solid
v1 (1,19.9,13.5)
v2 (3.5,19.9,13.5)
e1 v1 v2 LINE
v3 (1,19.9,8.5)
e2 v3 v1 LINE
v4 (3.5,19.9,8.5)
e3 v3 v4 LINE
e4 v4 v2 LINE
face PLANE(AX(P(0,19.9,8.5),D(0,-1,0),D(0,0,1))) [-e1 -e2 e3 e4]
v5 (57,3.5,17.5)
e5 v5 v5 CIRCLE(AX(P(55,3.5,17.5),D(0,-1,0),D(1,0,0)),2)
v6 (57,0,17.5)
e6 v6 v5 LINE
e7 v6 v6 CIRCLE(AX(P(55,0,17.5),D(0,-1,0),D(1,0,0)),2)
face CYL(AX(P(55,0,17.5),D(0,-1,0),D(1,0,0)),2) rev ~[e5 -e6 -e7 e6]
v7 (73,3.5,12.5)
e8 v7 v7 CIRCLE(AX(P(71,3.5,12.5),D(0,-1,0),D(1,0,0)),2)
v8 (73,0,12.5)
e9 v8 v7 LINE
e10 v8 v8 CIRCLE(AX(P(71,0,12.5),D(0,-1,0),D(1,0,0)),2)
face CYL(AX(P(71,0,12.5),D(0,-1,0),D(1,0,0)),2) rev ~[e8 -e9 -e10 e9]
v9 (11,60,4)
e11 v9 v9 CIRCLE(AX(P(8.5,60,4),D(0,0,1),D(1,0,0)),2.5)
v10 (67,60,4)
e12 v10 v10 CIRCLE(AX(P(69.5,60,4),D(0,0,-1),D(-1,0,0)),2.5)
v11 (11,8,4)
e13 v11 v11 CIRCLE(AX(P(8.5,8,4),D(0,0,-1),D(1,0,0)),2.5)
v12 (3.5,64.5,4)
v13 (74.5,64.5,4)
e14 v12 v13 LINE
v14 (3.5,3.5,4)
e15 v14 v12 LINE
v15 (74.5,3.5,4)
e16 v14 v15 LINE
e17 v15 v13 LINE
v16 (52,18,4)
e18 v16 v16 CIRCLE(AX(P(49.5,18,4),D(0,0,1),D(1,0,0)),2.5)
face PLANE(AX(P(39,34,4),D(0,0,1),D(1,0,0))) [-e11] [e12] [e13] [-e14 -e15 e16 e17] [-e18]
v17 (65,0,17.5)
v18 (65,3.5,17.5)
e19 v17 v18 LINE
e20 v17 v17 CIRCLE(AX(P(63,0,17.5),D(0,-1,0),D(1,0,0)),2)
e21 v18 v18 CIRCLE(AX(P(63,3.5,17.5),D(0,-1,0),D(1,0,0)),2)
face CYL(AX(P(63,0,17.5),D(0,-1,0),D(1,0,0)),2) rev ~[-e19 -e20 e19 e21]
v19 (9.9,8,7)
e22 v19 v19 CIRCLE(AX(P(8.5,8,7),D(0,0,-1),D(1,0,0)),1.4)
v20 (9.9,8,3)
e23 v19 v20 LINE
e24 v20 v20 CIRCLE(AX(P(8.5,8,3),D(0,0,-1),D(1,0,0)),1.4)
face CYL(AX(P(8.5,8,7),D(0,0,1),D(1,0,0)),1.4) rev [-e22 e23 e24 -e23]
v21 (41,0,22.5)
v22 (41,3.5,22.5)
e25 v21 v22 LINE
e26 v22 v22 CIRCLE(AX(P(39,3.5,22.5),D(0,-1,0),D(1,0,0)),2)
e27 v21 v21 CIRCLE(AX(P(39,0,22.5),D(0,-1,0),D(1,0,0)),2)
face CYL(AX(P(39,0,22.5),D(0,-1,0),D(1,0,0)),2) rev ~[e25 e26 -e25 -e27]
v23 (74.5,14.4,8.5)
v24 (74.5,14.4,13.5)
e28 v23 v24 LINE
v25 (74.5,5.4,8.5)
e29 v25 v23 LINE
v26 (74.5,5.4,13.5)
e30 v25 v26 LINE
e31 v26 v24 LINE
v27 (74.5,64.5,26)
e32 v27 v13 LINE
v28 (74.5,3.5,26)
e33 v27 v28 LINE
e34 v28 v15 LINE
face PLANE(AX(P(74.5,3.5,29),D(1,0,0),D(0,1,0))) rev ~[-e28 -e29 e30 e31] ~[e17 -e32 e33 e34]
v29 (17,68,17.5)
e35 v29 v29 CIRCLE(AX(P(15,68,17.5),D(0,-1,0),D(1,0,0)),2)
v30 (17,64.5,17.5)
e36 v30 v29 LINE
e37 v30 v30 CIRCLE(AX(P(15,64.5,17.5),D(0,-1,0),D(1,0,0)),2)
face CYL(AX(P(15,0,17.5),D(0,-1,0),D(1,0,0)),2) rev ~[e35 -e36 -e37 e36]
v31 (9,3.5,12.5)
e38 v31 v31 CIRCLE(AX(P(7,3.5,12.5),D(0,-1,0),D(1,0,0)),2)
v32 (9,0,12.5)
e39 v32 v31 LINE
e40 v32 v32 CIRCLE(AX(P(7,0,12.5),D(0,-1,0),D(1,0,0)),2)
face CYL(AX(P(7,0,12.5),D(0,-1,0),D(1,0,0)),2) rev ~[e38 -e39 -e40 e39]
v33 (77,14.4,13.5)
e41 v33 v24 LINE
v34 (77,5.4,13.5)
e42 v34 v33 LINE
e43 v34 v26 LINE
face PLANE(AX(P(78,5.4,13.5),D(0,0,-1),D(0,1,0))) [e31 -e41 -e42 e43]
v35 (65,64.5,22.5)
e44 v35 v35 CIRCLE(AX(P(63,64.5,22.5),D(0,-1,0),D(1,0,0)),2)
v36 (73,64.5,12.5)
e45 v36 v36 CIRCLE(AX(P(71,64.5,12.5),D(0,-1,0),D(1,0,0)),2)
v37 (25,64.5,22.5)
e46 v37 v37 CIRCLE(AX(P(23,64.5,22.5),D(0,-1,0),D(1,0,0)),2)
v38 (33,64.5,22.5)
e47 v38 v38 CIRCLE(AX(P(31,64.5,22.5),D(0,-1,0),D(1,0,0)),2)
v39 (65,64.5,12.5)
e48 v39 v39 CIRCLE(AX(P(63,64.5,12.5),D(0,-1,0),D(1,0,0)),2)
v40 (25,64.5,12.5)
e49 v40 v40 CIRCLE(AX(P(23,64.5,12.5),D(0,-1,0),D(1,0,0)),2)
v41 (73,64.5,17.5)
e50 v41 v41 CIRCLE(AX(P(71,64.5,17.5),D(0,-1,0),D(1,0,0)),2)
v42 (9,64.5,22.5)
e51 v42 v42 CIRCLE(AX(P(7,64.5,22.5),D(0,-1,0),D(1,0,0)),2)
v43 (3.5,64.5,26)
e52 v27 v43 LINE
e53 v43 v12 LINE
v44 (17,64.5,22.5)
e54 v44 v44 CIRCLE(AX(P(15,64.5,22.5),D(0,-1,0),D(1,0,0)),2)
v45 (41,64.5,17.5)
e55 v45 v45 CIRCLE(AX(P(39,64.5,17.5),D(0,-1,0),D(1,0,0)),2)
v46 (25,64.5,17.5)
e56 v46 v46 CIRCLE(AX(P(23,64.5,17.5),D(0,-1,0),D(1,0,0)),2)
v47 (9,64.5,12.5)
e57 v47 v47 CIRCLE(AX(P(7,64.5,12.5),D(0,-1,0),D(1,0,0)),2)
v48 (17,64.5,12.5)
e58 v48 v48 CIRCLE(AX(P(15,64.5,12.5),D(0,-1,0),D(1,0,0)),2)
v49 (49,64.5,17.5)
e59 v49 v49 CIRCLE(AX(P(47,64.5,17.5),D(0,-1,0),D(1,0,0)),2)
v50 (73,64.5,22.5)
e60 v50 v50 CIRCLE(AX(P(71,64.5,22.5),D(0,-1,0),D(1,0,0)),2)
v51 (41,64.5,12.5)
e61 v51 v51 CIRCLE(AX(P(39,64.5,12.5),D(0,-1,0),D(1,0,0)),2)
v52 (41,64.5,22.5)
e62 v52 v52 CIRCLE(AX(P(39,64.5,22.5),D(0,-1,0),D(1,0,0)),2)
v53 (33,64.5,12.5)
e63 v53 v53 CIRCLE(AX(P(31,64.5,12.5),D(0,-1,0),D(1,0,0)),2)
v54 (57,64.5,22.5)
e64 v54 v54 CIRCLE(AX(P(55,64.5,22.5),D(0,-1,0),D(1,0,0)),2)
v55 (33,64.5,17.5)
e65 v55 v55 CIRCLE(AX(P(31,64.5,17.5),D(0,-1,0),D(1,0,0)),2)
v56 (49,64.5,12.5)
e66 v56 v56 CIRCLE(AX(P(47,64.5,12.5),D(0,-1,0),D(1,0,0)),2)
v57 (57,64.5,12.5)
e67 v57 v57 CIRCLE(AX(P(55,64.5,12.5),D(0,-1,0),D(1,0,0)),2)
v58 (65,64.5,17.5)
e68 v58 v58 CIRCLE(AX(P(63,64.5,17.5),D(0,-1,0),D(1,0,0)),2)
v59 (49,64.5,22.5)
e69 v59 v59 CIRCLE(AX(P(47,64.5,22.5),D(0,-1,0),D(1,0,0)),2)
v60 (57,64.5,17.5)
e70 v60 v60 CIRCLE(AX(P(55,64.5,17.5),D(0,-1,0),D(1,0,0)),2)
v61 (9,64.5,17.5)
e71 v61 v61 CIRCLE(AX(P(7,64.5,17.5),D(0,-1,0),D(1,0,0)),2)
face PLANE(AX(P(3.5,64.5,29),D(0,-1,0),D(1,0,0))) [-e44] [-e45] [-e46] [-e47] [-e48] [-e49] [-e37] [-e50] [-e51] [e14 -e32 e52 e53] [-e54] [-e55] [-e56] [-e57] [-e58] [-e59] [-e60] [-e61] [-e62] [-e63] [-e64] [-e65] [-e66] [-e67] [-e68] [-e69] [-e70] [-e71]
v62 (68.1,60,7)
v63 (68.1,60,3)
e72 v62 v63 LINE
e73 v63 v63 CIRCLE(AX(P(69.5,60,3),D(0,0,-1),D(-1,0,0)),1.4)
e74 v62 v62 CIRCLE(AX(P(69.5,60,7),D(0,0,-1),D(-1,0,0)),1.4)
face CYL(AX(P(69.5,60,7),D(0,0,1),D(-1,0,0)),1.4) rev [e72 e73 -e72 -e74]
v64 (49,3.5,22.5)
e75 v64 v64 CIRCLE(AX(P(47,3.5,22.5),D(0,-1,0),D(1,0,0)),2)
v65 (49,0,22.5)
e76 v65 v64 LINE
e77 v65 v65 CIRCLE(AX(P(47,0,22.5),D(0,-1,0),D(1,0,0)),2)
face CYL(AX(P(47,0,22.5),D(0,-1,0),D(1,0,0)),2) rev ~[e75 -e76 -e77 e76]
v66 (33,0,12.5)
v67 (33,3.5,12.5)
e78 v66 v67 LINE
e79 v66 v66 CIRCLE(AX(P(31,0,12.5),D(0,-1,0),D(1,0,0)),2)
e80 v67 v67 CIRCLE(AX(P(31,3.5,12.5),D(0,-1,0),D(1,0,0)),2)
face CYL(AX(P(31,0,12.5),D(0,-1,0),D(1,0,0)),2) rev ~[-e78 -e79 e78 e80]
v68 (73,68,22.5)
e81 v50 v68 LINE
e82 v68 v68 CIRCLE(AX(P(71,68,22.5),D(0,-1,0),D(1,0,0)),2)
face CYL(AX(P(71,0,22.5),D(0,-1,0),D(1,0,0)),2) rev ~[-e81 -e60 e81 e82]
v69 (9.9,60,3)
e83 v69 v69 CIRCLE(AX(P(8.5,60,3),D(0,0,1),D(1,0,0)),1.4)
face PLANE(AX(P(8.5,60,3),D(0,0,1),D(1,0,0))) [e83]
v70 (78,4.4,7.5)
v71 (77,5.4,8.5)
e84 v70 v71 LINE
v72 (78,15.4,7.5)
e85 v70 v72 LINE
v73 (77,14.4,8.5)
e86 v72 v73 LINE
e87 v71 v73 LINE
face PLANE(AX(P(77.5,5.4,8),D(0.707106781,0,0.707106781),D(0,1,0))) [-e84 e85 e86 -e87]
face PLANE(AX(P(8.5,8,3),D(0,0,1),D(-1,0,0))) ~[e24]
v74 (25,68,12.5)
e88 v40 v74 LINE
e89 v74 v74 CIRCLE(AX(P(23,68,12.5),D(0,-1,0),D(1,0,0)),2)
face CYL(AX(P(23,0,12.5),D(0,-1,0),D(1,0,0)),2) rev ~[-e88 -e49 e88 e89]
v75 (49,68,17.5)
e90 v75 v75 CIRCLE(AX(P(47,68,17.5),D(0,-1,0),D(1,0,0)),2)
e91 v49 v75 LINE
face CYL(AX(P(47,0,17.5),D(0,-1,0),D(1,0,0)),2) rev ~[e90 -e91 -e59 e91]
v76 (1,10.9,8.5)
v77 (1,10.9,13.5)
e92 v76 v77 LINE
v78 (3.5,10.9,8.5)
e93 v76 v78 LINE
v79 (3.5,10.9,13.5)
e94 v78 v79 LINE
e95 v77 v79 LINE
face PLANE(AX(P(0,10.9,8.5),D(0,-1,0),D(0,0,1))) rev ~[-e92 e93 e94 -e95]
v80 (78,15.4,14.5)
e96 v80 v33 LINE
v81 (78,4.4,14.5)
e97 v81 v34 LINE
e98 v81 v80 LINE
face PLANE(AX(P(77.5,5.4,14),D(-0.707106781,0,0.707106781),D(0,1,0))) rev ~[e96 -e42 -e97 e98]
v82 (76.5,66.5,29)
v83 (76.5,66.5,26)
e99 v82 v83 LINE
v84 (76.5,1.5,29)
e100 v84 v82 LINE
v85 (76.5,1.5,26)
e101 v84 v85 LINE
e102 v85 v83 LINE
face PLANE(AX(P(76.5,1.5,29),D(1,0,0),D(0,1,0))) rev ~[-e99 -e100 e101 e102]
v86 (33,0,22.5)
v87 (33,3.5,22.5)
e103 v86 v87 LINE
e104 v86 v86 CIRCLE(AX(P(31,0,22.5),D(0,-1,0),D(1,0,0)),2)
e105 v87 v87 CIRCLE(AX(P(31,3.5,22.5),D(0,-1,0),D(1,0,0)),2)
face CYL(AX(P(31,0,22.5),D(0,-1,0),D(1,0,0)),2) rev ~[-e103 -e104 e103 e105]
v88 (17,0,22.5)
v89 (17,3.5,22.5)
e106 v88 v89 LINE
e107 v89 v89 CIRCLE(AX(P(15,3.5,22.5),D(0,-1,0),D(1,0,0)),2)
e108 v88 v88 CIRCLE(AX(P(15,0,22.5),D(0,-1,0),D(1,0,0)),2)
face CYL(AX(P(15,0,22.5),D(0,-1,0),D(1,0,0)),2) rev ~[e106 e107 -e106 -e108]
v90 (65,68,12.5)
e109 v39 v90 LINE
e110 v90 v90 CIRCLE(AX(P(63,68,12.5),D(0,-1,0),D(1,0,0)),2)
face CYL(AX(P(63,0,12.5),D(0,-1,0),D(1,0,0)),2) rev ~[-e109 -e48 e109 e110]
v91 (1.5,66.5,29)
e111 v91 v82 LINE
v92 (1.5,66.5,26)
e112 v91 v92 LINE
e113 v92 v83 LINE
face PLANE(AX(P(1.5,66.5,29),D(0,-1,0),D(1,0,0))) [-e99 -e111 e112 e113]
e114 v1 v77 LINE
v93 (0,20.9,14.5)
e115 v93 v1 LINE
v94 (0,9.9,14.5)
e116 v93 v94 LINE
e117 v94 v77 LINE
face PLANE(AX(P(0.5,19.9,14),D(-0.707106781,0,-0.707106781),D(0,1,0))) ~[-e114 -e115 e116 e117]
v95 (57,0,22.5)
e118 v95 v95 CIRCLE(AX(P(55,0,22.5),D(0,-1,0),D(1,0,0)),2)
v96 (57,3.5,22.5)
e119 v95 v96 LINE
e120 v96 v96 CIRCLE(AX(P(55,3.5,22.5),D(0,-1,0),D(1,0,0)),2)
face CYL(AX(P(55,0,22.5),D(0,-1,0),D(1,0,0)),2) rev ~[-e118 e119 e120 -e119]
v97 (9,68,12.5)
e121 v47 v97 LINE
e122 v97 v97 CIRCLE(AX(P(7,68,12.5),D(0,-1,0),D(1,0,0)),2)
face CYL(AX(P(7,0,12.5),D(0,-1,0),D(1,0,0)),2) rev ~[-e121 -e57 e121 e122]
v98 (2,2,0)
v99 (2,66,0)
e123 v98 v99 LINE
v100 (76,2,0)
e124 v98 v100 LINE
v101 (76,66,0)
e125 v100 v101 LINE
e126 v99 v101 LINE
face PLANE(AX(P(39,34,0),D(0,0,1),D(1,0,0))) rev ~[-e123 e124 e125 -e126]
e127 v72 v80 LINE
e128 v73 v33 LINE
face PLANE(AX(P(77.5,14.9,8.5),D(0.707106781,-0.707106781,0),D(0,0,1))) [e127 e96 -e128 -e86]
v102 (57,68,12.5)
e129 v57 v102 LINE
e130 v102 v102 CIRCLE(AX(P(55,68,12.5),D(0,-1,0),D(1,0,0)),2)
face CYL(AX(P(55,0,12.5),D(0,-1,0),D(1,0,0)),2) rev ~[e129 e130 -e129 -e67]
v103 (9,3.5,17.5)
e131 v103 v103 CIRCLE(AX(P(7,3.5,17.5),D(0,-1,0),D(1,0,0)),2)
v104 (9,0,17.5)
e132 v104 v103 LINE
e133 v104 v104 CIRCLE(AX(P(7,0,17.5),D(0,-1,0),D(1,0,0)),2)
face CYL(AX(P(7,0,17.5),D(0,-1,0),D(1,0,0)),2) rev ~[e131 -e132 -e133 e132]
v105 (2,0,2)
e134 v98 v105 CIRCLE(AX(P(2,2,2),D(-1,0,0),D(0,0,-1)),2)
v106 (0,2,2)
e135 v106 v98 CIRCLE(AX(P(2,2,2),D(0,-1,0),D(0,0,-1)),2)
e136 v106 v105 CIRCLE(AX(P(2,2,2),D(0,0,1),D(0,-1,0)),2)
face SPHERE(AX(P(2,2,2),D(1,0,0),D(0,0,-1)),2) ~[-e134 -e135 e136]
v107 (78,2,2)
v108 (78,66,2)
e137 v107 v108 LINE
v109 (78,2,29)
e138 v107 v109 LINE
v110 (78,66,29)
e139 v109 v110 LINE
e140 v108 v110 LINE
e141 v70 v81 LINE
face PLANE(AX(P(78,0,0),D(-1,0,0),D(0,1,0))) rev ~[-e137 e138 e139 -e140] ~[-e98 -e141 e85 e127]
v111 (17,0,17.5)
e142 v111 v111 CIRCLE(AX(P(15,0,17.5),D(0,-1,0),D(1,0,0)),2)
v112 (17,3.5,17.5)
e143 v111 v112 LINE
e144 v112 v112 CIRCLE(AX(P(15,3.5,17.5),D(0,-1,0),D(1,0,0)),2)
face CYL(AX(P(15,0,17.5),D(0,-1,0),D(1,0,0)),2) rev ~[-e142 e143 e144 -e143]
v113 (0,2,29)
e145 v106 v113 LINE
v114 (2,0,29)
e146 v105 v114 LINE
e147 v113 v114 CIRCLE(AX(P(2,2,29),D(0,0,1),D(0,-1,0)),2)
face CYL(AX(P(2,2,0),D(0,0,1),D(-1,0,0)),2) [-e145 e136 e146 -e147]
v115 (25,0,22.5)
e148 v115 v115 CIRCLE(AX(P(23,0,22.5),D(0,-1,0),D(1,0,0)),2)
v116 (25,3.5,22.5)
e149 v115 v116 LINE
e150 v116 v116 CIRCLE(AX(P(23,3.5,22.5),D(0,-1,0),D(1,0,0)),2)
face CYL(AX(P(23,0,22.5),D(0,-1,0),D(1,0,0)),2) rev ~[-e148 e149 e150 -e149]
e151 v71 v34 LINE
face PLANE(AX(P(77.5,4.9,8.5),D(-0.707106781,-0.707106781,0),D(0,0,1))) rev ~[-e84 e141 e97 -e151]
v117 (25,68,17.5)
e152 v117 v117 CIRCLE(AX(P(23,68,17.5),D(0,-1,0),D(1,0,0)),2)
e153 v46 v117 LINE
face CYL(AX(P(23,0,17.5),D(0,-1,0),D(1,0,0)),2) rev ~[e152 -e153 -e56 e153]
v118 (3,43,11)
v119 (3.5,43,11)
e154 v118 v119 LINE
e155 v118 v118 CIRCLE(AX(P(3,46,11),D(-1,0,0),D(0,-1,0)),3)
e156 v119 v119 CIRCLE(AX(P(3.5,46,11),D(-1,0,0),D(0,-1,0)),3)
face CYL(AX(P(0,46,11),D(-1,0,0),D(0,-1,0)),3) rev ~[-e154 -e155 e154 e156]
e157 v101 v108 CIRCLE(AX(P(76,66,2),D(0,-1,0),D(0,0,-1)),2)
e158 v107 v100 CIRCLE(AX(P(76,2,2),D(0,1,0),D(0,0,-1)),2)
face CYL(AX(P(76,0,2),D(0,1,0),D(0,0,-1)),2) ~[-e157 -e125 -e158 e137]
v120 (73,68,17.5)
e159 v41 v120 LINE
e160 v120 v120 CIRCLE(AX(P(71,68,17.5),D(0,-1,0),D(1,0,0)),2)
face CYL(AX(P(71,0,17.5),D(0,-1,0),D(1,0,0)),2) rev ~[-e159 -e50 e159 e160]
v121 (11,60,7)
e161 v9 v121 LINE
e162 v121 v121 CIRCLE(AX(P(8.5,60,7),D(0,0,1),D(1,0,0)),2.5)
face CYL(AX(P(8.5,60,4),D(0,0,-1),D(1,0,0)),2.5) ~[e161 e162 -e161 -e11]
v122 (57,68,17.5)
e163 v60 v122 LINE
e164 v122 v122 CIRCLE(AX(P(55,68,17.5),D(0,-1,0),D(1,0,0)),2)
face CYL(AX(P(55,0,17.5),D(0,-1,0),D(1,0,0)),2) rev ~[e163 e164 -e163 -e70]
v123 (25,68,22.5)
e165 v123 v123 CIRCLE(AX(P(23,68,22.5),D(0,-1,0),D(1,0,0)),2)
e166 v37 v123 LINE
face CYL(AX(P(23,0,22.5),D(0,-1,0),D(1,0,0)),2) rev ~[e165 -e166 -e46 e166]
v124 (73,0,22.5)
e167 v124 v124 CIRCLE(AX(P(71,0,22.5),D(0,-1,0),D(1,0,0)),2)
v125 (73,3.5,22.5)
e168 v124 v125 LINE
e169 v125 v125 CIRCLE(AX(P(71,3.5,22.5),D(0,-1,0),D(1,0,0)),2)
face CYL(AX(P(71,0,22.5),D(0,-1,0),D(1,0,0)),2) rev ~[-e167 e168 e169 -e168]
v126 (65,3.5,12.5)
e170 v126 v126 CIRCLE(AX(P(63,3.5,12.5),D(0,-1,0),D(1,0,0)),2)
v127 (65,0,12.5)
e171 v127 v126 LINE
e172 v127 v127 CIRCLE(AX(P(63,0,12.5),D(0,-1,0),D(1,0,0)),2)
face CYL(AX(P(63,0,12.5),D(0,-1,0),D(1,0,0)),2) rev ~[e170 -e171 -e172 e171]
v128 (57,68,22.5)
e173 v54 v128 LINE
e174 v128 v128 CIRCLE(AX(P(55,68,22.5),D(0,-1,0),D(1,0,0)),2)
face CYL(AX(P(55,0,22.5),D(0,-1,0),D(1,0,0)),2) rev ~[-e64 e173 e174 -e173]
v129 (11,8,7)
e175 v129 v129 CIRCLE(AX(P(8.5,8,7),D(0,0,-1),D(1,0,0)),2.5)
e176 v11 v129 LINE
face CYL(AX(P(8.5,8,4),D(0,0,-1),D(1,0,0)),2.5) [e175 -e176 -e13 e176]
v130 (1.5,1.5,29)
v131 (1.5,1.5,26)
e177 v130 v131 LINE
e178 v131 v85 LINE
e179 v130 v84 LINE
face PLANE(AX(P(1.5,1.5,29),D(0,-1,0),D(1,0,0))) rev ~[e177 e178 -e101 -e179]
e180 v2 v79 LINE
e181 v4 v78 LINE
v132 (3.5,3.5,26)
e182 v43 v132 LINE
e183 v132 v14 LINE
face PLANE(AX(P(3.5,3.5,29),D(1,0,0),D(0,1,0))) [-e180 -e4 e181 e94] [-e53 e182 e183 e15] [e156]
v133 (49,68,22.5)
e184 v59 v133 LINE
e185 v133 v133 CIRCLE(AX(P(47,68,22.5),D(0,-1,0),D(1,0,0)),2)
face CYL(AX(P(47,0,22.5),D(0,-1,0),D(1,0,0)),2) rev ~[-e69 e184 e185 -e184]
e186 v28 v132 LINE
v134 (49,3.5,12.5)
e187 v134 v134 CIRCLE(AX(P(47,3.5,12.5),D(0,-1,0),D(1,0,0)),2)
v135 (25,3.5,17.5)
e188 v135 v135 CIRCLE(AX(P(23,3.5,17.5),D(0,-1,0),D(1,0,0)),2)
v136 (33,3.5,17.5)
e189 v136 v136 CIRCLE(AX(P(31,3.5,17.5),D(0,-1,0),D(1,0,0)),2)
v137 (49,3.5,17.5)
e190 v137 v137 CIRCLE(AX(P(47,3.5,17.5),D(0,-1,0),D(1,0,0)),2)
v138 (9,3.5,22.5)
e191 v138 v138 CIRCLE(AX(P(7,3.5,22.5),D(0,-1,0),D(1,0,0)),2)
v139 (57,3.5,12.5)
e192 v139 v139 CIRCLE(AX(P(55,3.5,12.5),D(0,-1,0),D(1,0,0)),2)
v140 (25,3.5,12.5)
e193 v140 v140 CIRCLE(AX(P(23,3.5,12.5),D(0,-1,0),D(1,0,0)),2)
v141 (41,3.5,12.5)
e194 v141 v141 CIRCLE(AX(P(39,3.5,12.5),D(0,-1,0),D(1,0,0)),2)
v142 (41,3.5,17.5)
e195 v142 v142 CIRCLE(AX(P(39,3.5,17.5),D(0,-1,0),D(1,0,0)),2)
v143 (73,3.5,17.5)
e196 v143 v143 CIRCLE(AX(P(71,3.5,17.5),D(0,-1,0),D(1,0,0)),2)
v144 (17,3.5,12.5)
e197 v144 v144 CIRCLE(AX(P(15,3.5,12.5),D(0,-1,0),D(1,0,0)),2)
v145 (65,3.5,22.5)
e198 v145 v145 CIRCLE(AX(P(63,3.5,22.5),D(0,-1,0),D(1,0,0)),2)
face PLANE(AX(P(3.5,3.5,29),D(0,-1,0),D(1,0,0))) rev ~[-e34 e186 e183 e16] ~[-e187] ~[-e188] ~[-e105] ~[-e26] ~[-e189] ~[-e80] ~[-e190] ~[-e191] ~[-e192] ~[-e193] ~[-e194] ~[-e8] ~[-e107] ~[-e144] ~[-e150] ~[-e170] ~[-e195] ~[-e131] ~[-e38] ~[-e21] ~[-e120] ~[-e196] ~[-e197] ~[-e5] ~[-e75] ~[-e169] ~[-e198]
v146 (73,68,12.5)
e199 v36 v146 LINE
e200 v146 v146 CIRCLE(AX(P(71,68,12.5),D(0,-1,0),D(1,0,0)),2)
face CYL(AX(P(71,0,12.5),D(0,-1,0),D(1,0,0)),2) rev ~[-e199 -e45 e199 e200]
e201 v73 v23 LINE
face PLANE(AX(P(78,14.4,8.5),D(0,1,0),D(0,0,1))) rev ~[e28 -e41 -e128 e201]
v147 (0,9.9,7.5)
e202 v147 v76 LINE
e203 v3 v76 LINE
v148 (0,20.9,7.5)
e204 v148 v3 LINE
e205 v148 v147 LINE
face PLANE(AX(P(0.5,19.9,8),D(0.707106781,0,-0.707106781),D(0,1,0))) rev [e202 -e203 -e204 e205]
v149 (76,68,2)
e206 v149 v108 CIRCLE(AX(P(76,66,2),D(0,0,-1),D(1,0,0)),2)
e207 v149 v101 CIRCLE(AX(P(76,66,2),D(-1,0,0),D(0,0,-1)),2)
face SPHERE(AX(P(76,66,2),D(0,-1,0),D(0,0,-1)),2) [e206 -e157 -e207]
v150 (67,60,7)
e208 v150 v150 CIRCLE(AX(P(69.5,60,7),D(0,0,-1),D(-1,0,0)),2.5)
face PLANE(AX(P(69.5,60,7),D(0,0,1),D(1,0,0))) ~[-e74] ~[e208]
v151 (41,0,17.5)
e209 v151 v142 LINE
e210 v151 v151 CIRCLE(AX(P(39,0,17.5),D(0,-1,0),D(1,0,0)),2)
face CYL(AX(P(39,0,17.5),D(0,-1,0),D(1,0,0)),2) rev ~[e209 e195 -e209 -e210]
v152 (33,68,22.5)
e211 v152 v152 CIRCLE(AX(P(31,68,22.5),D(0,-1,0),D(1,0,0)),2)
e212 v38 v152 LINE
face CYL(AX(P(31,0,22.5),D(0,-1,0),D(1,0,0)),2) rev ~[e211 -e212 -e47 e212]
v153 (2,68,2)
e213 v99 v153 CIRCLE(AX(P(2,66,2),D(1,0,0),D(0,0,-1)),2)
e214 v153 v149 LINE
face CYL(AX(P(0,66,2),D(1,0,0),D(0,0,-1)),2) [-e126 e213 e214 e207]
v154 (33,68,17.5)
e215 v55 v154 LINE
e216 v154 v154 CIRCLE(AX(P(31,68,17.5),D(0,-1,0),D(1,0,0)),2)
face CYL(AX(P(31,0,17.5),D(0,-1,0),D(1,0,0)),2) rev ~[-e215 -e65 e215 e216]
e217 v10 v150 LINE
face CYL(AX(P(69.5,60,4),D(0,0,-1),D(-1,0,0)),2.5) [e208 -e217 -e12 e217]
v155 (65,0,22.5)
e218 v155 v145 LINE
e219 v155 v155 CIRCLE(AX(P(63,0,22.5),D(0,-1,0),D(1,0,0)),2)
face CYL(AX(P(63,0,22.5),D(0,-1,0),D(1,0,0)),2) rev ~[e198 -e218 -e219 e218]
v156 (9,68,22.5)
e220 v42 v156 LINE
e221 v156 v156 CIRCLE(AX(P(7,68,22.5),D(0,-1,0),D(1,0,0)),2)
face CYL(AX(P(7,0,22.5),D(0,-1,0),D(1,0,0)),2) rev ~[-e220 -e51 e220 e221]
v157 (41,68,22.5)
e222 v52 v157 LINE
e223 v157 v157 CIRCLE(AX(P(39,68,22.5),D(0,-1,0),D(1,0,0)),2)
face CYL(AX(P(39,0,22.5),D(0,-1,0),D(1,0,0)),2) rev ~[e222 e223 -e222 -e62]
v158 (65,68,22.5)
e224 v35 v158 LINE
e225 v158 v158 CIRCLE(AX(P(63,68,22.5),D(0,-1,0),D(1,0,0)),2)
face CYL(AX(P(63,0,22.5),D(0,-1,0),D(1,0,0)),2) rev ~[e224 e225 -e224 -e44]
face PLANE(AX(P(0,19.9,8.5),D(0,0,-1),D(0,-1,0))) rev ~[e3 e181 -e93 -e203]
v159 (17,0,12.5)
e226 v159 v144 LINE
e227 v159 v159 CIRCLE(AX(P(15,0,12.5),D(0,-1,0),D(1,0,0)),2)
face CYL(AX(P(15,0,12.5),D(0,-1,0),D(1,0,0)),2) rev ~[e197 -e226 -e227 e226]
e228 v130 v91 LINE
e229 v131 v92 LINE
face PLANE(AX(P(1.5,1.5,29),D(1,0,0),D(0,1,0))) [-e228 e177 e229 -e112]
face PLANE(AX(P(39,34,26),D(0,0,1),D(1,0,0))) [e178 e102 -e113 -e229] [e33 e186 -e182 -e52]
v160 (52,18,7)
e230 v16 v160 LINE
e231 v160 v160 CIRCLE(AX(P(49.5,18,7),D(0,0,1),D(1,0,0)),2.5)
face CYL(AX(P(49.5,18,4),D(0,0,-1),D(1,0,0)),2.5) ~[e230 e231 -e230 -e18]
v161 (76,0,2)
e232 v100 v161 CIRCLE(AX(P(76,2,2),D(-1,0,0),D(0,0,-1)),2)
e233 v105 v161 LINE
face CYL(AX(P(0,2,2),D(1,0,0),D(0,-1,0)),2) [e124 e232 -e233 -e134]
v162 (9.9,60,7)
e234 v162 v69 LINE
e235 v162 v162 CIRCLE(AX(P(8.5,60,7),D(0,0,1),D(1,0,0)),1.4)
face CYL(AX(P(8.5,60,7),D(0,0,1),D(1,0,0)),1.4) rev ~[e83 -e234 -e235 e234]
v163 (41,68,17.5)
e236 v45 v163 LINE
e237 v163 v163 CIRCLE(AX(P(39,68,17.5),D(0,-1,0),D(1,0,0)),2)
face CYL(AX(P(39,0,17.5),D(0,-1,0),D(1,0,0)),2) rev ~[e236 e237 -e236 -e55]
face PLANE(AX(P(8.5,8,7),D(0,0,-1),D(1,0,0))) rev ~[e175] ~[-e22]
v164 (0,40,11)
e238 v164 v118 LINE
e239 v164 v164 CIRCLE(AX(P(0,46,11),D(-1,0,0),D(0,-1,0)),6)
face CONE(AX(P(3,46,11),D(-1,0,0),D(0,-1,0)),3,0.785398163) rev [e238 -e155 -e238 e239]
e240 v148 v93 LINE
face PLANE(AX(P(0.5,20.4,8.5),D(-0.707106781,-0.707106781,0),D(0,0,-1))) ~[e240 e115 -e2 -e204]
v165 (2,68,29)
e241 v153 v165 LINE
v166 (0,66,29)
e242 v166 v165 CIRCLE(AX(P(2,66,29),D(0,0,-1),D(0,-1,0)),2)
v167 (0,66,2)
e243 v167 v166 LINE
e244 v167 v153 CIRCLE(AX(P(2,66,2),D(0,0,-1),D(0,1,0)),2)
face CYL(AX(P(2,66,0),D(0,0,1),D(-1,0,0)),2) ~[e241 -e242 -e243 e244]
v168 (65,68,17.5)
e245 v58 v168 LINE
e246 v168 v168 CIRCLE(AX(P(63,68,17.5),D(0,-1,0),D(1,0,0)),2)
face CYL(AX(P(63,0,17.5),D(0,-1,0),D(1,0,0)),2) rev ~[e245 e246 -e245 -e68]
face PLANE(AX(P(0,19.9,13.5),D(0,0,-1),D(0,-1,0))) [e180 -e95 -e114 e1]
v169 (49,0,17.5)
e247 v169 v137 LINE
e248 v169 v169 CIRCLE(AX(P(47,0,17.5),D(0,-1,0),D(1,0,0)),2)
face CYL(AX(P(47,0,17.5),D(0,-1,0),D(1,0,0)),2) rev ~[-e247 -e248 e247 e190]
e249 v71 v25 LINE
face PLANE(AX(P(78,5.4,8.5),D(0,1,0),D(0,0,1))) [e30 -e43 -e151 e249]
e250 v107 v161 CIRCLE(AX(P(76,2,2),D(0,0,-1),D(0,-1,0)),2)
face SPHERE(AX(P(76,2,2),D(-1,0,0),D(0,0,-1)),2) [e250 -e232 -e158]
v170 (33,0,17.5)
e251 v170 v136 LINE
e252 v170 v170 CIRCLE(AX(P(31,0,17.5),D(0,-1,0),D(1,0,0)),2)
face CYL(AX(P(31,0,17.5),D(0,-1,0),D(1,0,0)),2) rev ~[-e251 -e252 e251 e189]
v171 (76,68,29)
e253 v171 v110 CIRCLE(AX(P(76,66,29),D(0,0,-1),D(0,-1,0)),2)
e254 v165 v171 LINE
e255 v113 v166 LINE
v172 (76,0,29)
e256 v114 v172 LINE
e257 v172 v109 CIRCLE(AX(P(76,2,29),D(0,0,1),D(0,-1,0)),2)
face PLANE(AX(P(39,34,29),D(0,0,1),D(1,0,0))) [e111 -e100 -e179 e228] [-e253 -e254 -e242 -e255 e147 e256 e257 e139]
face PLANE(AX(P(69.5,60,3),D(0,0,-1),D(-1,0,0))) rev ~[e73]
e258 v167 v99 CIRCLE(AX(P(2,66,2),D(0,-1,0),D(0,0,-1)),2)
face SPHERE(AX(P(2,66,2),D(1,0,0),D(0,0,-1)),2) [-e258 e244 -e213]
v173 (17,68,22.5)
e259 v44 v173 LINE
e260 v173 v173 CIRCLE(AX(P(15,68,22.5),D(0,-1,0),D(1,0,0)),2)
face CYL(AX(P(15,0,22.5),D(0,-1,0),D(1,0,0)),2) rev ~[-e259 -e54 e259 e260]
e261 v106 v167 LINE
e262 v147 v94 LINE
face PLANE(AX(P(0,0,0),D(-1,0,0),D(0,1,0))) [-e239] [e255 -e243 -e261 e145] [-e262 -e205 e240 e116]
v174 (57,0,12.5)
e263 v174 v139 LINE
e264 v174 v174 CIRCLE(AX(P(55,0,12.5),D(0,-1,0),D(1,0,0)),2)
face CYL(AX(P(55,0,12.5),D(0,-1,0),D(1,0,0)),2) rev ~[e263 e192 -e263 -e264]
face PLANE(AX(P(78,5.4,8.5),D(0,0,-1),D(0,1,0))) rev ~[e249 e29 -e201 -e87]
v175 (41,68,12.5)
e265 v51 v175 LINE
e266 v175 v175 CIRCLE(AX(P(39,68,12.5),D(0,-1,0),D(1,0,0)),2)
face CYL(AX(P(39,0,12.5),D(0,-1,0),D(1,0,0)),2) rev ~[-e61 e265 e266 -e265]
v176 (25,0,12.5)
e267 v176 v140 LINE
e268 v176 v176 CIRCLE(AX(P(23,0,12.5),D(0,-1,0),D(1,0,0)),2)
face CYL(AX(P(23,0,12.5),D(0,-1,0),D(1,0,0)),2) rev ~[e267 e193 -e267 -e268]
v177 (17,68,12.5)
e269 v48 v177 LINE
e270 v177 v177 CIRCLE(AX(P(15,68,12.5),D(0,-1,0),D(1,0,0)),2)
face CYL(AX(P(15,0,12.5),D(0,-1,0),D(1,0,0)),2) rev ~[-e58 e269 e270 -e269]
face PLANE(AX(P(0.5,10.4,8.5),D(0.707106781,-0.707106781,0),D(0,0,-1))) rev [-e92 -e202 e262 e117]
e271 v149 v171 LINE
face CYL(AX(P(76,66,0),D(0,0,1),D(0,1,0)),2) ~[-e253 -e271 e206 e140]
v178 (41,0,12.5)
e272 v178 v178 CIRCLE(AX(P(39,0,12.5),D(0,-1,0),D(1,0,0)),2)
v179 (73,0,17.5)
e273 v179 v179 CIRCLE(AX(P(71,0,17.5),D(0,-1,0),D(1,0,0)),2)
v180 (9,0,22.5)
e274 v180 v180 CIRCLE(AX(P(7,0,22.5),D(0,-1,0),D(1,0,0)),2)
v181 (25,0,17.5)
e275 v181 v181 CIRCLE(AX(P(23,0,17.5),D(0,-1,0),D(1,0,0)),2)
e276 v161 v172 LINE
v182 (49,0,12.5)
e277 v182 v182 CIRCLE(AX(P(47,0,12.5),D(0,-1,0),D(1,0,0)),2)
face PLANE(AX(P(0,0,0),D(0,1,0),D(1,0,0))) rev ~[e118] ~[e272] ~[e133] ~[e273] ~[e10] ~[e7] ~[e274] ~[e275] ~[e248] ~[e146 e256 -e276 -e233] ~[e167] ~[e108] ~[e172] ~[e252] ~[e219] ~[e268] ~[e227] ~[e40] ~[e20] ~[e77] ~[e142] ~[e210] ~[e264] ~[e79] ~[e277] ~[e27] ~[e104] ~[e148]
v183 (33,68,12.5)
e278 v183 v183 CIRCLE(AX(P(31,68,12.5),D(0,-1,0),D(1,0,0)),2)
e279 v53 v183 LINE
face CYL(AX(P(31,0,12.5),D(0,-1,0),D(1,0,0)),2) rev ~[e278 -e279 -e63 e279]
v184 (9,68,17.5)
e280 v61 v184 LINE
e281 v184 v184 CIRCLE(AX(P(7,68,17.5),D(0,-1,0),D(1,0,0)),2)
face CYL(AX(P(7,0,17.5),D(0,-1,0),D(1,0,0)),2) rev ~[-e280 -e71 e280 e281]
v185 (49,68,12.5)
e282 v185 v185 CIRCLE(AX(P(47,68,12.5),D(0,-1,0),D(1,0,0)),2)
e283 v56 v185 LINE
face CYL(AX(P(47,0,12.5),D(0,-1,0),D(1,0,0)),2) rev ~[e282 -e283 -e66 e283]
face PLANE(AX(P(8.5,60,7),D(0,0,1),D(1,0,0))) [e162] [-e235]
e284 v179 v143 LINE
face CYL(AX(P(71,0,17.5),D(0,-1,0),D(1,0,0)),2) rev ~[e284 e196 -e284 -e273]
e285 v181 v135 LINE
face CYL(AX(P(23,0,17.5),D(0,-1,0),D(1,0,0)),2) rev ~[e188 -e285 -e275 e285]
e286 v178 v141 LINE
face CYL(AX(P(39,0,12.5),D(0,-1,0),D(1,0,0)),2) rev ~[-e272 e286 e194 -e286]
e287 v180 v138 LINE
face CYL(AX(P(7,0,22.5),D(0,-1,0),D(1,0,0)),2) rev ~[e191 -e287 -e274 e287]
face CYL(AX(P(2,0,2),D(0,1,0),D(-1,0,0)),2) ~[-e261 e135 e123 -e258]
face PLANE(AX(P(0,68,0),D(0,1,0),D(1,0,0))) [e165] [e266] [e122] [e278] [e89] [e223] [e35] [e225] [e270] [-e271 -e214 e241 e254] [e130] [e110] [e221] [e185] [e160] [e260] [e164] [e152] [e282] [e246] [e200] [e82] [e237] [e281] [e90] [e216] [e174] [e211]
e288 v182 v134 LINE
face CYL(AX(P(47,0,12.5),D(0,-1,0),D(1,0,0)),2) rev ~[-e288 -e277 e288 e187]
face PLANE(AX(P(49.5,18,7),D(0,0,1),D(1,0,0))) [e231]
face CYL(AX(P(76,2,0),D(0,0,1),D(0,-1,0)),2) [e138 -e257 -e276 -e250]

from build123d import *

# Parameters (mm, degrees)
SKETCH_W                        = 78
SKETCH_H                        = 68
PAD_DEPTH                       = 29
SKETCH001_W                     = 71
SKETCH001_H                     = 61
POCKET_DEPTH                    = 25
SKETCH002_R                     = 2.5
PAD001_DEPTH                    = 3
SKETCH002_MIRRORED_2_R          = 2.5
PAD001_MIRRORED_2_DEPTH         = 3
SKETCH003_R                     = 3.111428
POCKET001_DEPTH                 = 3
SKETCH004_R                     = 1.4
POCKET002_DEPTH                 = 4
SKETCH004_MIRRORED002_2_R       = 1.4
POCKET002_MIRRORED002_2_DEPTH   = 4
SKETCH005_R                     = 2.5
PAD002_DEPTH                    = 3
SKETCH006_R                     = 1.1
POCKET003_DEPTH                 = 3
SKETCH007_W                     = 9
SKETCH007_H                     = 5
POCKET004_DEPTH                 = 3.5
SKETCH008_W                     = 9
SKETCH008_H                     = 5
POCKET005_DEPTH                 = 3.5
SKETCH009_R                     = 3
POCKET006_DEPTH                 = 3.5
FILLET_R                        = 2
CHAMFER_SIZE                    = 1
CHAMFER001_SIZE                 = 3
SKETCH010_R                     = 2
POCKET007_DEPTH                 = 282.933548
SKETCH010_LINEARPATTERN_2_R     = 2
POCKET007_LINEARPATTERN_2_DEPTH = 282.933548
SKETCH010_LINEARPATTERN_3_R     = 2
POCKET007_LINEARPATTERN_3_DEPTH = 282.933548
SKETCH010_LINEARPATTERN_4_R     = 2
POCKET007_LINEARPATTERN_4_DEPTH = 282.933548
SKETCH010_LINEARPATTERN_5_R     = 2
POCKET007_LINEARPATTERN_5_DEPTH = 282.933548
SKETCH010_LINEARPATTERN_6_R     = 2
POCKET007_LINEARPATTERN_6_DEPTH = 282.933548
SKETCH010_LINEARPATTERN_7_R     = 2
POCKET007_LINEARPATTERN_7_DEPTH = 282.933548
SKETCH010_LINEARPATTERN_8_R     = 2
POCKET007_LINEARPATTERN_8_DEPTH = 282.933548
SKETCH010_LINEARPATTERN_9_R     = 2
POCKET007_LINEARPATTERN_9_DEPTH = 282.933548
LINEARPATTERN001_COUNT          = 3
LINEARPATTERN001_PITCH          = 5
SKETCH011_W                     = 75
SKETCH011_H                     = 65
POCKET008_DEPTH                 = 3
SKETCH012_R                     = 1.564418
PAD003_DEPTH                    = 1


with BuildPart() as part:
    # Sketch → Pad (new body)
    with BuildSketch(Plane.XY):
        with Locations((39, 34)):
            Rectangle(SKETCH_W, SKETCH_H)
    extrude(amount=PAD_DEPTH)

    # Sketch001 (on Face6 of Pad) → Pocket (cut)
    with BuildSketch(Plane.XY.offset(29)):
        with Locations((39, 34)):
            Rectangle(SKETCH001_W, SKETCH001_H)
    extrude(amount=-POCKET_DEPTH, mode=Mode.SUBTRACT)

    # Sketch002 (on Face11 of Pocket) → Pad001 (join)
    with BuildSketch(Plane.XY.offset(4)):
        with Locations((8.5, 60)):
            Circle(SKETCH002_R)
    pad001 = extrude(amount=PAD001_DEPTH)

    # Sketch002 Mirrored 2 → Pad001 Mirrored 2 (add)
    with BuildSketch(Plane(origin=(0, 68, 4), x_dir=(1, 0, 0), z_dir=(0, 0, -1))):
        with Locations((8.5, 60)):
            Circle(SKETCH002_MIRRORED_2_R)
    pad001_mirrored_2 = extrude(amount=-PAD001_MIRRORED_2_DEPTH)

    # Mirrored001: Pad001, Pad001 Mirrored 2 across Sketch002 Axis3
    add(pad001.mirror(Plane(origin=(39, 64.5, 4), x_dir=(0, 0, 1), z_dir=(1, 0, 0))))
    add(pad001_mirrored_2.mirror(Plane(origin=(39, 64.5, 4), x_dir=(0, 0, 1), z_dir=(1, 0, 0))))

    # Sketch003 (on Face17 of MultiTransform) → Pocket001 (cut)
    with BuildSketch(Plane.XY.offset(7)):
        with Locations((69.5, 8)):
            Circle(SKETCH003_R)
    extrude(amount=-POCKET001_DEPTH, mode=Mode.SUBTRACT)

    # Sketch004 (on Face18 of Pocket001) → Pocket002 (cut)
    with BuildSketch(Plane.XY.offset(7)):
        with Locations((8.5, 60)):
            Circle(SKETCH004_R)
    pocket002 = extrude(amount=-POCKET002_DEPTH, mode=Mode.SUBTRACT)

    # Sketch004 Mirrored002 2 → Pocket002 Mirrored002 2 (cut)
    with BuildSketch(Plane(origin=(78, 0, 7), x_dir=(-1, 0, 0), z_dir=(0, 0, -1))):
        with Locations((8.5, 60)):
            Circle(SKETCH004_MIRRORED002_2_R)
    pocket002_mirrored002_2 = extrude(amount=POCKET002_MIRRORED002_2_DEPTH, mode=Mode.SUBTRACT)

    # Mirrored003: Pocket002, Pocket002 Mirrored002 2 across Sketch004 Axis2
    add(pocket002.mirror(Plane(origin=(39, 34, 7), x_dir=(0, 0, 1), z_dir=(0, 1, 0))), mode=Mode.SUBTRACT)
    add(pocket002_mirrored002_2.mirror(Plane(origin=(39, 34, 7), x_dir=(0, 0, 1), z_dir=(0, 1, 0))), mode=Mode.SUBTRACT)

    # Sketch005 (on Face11 of MultiTransform001) → Pad002 (join)
    with BuildSketch(Plane.XY.offset(4)):
        with Locations((49.5, 18)):
            Circle(SKETCH005_R)
    extrude(amount=PAD002_DEPTH)

    # Sketch006 (on Face19 of Pad002) → Pocket003 (cut)
    with BuildSketch(Plane.XY.offset(7)):
        with Locations((69.5, 60)):
            Circle(SKETCH006_R)
    extrude(amount=-POCKET003_DEPTH, mode=Mode.SUBTRACT)

    # Sketch007 (on Face3 of Pocket003) → Pocket004 (cut)
    with BuildSketch(Plane.YZ.offset(78)):
        with Locations((9.9, 11)):
            Rectangle(SKETCH007_W, SKETCH007_H)
    extrude(amount=-POCKET004_DEPTH, mode=Mode.SUBTRACT)

    # Sketch008 (on Face2 of Pocket004) → Pocket005 (cut)
    with BuildSketch(Plane(origin=(0, 0, 0), x_dir=(0, -1, 0), z_dir=(-1, 0, 0))):
        with Locations((-15.4, 11)):
            Rectangle(SKETCH008_W, SKETCH008_H)
    extrude(amount=-POCKET005_DEPTH, mode=Mode.SUBTRACT)

    # Sketch009 (on Face2 of Pocket005) → Pocket006 (cut)
    with BuildSketch(Plane(origin=(0, 0, 0), x_dir=(0, -1, 0), z_dir=(-1, 0, 0))):
        with Locations((-46, 11)):
            Circle(SKETCH009_R)
    extrude(amount=-POCKET006_DEPTH, mode=Mode.SUBTRACT)

    # Fillet
    fillet_edges = [part.edges().sort_by_distance(p)[0] for p in [
        (39, 0, 0),
        (78, 34, 0),
        (39, 68, 0),
        (0, 34, 0),
        (78, 0, 14.5),
        (0, 68, 14.5),
        (78, 68, 14.5),
        (0, 0, 14.5),
    ]]
    fillet(fillet_edges, radius=FILLET_R)

    # Chamfer
    chamfer_edges = [part.edges().sort_by_distance(p)[0] for p in [
        (78, 9.9, 8.5),
        (78, 5.4, 11),
        (78, 9.9, 13.5),
        (78, 14.4, 11),
        (0, 15.4, 8.5),
        (0, 19.9, 11),
        (0, 15.4, 13.5),
        (0, 10.9, 11),
    ]]
    chamfer(chamfer_edges, length=CHAMFER_SIZE)

    # Chamfer001
    chamfer001_edges = [part.edges().sort_by_distance(p)[0] for p in [
        (0, 49, 11),
    ]]
    chamfer(chamfer001_edges, length=CHAMFER001_SIZE)

    # Sketch010 (on Face16 of Chamfer001) → Pocket007 (cut, through all)
    with BuildSketch(Plane.XZ):
        with Locations((7, 12.5)):
            Circle(SKETCH010_R)
    pocket007 = extrude(amount=-POCKET007_DEPTH, mode=Mode.SUBTRACT)

    # Sketch010 LinearPattern 2 → Pocket007 LinearPattern 2 (cut, through all)
    with BuildSketch(Plane(origin=(8, 0, 0), x_dir=(1, 0, 0), z_dir=(0, -1, 0))):
        with Locations((7, 12.5)):
            Circle(SKETCH010_LINEARPATTERN_2_R)
    pocket007_linearpattern_2 = extrude(amount=-POCKET007_LINEARPATTERN_2_DEPTH, mode=Mode.SUBTRACT)

    # Sketch010 LinearPattern 3 → Pocket007 LinearPattern 3 (cut, through all)
    with BuildSketch(Plane(origin=(16, 0, 0), x_dir=(1, 0, 0), z_dir=(0, -1, 0))):
        with Locations((7, 12.5)):
            Circle(SKETCH010_LINEARPATTERN_3_R)
    pocket007_linearpattern_3 = extrude(amount=-POCKET007_LINEARPATTERN_3_DEPTH, mode=Mode.SUBTRACT)

    # Sketch010 LinearPattern 4 → Pocket007 LinearPattern 4 (cut, through all)
    with BuildSketch(Plane(origin=(24, 0, 0), x_dir=(1, 0, 0), z_dir=(0, -1, 0))):
        with Locations((7, 12.5)):
            Circle(SKETCH010_LINEARPATTERN_4_R)
    pocket007_linearpattern_4 = extrude(amount=-POCKET007_LINEARPATTERN_4_DEPTH, mode=Mode.SUBTRACT)

    # Sketch010 LinearPattern 5 → Pocket007 LinearPattern 5 (cut, through all)
    with BuildSketch(Plane(origin=(32, 0, 0), x_dir=(1, 0, 0), z_dir=(0, -1, 0))):
        with Locations((7, 12.5)):
            Circle(SKETCH010_LINEARPATTERN_5_R)
    pocket007_linearpattern_5 = extrude(amount=-POCKET007_LINEARPATTERN_5_DEPTH, mode=Mode.SUBTRACT)

    # Sketch010 LinearPattern 6 → Pocket007 LinearPattern 6 (cut, through all)
    with BuildSketch(Plane(origin=(40, 0, 0), x_dir=(1, 0, 0), z_dir=(0, -1, 0))):
        with Locations((7, 12.5)):
            Circle(SKETCH010_LINEARPATTERN_6_R)
    pocket007_linearpattern_6 = extrude(amount=-POCKET007_LINEARPATTERN_6_DEPTH, mode=Mode.SUBTRACT)

    # Sketch010 LinearPattern 7 → Pocket007 LinearPattern 7 (cut, through all)
    with BuildSketch(Plane(origin=(48, 0, 0), x_dir=(1, 0, 0), z_dir=(0, -1, 0))):
        with Locations((7, 12.5)):
            Circle(SKETCH010_LINEARPATTERN_7_R)
    pocket007_linearpattern_7 = extrude(amount=-POCKET007_LINEARPATTERN_7_DEPTH, mode=Mode.SUBTRACT)

    # Sketch010 LinearPattern 8 → Pocket007 LinearPattern 8 (cut, through all)
    with BuildSketch(Plane(origin=(56, 0, 0), x_dir=(1, 0, 0), z_dir=(0, -1, 0))):
        with Locations((7, 12.5)):
            Circle(SKETCH010_LINEARPATTERN_8_R)
    pocket007_linearpattern_8 = extrude(amount=-POCKET007_LINEARPATTERN_8_DEPTH, mode=Mode.SUBTRACT)

    # Sketch010 LinearPattern 9 → Pocket007 LinearPattern 9 (cut, through all)
    with BuildSketch(Plane(origin=(64, 0, 0), x_dir=(1, 0, 0), z_dir=(0, -1, 0))):
        with Locations((7, 12.5)):
            Circle(SKETCH010_LINEARPATTERN_9_R)
    pocket007_linearpattern_9 = extrude(amount=-POCKET007_LINEARPATTERN_9_DEPTH, mode=Mode.SUBTRACT)

    # LinearPattern001: Pocket007, Pocket007 LinearPattern 2, Pocket007 LinearPattern 3, Pocket007 LinearPattern 4, Pocket007 LinearPattern 5, Pocket007 LinearPattern 6, Pocket007 LinearPattern 7, Pocket007 LinearPattern 8, Pocket007 LinearPattern 9 ×3
    with Locations(*[(0, 0, i * LINEARPATTERN001_PITCH) for i in range(1, LINEARPATTERN001_COUNT)]):
        add(pocket007, mode=Mode.SUBTRACT)
        add(pocket007_linearpattern_2, mode=Mode.SUBTRACT)
        add(pocket007_linearpattern_3, mode=Mode.SUBTRACT)
        add(pocket007_linearpattern_4, mode=Mode.SUBTRACT)
        add(pocket007_linearpattern_5, mode=Mode.SUBTRACT)
        add(pocket007_linearpattern_6, mode=Mode.SUBTRACT)
        add(pocket007_linearpattern_7, mode=Mode.SUBTRACT)
        add(pocket007_linearpattern_8, mode=Mode.SUBTRACT)
        add(pocket007_linearpattern_9, mode=Mode.SUBTRACT)

    # Sketch011 (on Face7 of MultiTransform002) → Pocket008 (cut)
    with BuildSketch(Plane.XY.offset(29)):
        with Locations((39, 34)):
            Rectangle(SKETCH011_W, SKETCH011_H)
    extrude(amount=-POCKET008_DEPTH, mode=Mode.SUBTRACT)

    # Sketch012 (on Face117 of Pocket008) → Pad003 (join)
    with BuildSketch(Plane.XY.offset(3)):
        with Locations((69.449699, 7.994386)):
            Circle(SKETCH012_R)
    extrude(amount=PAD003_DEPTH)


solid = part.part
